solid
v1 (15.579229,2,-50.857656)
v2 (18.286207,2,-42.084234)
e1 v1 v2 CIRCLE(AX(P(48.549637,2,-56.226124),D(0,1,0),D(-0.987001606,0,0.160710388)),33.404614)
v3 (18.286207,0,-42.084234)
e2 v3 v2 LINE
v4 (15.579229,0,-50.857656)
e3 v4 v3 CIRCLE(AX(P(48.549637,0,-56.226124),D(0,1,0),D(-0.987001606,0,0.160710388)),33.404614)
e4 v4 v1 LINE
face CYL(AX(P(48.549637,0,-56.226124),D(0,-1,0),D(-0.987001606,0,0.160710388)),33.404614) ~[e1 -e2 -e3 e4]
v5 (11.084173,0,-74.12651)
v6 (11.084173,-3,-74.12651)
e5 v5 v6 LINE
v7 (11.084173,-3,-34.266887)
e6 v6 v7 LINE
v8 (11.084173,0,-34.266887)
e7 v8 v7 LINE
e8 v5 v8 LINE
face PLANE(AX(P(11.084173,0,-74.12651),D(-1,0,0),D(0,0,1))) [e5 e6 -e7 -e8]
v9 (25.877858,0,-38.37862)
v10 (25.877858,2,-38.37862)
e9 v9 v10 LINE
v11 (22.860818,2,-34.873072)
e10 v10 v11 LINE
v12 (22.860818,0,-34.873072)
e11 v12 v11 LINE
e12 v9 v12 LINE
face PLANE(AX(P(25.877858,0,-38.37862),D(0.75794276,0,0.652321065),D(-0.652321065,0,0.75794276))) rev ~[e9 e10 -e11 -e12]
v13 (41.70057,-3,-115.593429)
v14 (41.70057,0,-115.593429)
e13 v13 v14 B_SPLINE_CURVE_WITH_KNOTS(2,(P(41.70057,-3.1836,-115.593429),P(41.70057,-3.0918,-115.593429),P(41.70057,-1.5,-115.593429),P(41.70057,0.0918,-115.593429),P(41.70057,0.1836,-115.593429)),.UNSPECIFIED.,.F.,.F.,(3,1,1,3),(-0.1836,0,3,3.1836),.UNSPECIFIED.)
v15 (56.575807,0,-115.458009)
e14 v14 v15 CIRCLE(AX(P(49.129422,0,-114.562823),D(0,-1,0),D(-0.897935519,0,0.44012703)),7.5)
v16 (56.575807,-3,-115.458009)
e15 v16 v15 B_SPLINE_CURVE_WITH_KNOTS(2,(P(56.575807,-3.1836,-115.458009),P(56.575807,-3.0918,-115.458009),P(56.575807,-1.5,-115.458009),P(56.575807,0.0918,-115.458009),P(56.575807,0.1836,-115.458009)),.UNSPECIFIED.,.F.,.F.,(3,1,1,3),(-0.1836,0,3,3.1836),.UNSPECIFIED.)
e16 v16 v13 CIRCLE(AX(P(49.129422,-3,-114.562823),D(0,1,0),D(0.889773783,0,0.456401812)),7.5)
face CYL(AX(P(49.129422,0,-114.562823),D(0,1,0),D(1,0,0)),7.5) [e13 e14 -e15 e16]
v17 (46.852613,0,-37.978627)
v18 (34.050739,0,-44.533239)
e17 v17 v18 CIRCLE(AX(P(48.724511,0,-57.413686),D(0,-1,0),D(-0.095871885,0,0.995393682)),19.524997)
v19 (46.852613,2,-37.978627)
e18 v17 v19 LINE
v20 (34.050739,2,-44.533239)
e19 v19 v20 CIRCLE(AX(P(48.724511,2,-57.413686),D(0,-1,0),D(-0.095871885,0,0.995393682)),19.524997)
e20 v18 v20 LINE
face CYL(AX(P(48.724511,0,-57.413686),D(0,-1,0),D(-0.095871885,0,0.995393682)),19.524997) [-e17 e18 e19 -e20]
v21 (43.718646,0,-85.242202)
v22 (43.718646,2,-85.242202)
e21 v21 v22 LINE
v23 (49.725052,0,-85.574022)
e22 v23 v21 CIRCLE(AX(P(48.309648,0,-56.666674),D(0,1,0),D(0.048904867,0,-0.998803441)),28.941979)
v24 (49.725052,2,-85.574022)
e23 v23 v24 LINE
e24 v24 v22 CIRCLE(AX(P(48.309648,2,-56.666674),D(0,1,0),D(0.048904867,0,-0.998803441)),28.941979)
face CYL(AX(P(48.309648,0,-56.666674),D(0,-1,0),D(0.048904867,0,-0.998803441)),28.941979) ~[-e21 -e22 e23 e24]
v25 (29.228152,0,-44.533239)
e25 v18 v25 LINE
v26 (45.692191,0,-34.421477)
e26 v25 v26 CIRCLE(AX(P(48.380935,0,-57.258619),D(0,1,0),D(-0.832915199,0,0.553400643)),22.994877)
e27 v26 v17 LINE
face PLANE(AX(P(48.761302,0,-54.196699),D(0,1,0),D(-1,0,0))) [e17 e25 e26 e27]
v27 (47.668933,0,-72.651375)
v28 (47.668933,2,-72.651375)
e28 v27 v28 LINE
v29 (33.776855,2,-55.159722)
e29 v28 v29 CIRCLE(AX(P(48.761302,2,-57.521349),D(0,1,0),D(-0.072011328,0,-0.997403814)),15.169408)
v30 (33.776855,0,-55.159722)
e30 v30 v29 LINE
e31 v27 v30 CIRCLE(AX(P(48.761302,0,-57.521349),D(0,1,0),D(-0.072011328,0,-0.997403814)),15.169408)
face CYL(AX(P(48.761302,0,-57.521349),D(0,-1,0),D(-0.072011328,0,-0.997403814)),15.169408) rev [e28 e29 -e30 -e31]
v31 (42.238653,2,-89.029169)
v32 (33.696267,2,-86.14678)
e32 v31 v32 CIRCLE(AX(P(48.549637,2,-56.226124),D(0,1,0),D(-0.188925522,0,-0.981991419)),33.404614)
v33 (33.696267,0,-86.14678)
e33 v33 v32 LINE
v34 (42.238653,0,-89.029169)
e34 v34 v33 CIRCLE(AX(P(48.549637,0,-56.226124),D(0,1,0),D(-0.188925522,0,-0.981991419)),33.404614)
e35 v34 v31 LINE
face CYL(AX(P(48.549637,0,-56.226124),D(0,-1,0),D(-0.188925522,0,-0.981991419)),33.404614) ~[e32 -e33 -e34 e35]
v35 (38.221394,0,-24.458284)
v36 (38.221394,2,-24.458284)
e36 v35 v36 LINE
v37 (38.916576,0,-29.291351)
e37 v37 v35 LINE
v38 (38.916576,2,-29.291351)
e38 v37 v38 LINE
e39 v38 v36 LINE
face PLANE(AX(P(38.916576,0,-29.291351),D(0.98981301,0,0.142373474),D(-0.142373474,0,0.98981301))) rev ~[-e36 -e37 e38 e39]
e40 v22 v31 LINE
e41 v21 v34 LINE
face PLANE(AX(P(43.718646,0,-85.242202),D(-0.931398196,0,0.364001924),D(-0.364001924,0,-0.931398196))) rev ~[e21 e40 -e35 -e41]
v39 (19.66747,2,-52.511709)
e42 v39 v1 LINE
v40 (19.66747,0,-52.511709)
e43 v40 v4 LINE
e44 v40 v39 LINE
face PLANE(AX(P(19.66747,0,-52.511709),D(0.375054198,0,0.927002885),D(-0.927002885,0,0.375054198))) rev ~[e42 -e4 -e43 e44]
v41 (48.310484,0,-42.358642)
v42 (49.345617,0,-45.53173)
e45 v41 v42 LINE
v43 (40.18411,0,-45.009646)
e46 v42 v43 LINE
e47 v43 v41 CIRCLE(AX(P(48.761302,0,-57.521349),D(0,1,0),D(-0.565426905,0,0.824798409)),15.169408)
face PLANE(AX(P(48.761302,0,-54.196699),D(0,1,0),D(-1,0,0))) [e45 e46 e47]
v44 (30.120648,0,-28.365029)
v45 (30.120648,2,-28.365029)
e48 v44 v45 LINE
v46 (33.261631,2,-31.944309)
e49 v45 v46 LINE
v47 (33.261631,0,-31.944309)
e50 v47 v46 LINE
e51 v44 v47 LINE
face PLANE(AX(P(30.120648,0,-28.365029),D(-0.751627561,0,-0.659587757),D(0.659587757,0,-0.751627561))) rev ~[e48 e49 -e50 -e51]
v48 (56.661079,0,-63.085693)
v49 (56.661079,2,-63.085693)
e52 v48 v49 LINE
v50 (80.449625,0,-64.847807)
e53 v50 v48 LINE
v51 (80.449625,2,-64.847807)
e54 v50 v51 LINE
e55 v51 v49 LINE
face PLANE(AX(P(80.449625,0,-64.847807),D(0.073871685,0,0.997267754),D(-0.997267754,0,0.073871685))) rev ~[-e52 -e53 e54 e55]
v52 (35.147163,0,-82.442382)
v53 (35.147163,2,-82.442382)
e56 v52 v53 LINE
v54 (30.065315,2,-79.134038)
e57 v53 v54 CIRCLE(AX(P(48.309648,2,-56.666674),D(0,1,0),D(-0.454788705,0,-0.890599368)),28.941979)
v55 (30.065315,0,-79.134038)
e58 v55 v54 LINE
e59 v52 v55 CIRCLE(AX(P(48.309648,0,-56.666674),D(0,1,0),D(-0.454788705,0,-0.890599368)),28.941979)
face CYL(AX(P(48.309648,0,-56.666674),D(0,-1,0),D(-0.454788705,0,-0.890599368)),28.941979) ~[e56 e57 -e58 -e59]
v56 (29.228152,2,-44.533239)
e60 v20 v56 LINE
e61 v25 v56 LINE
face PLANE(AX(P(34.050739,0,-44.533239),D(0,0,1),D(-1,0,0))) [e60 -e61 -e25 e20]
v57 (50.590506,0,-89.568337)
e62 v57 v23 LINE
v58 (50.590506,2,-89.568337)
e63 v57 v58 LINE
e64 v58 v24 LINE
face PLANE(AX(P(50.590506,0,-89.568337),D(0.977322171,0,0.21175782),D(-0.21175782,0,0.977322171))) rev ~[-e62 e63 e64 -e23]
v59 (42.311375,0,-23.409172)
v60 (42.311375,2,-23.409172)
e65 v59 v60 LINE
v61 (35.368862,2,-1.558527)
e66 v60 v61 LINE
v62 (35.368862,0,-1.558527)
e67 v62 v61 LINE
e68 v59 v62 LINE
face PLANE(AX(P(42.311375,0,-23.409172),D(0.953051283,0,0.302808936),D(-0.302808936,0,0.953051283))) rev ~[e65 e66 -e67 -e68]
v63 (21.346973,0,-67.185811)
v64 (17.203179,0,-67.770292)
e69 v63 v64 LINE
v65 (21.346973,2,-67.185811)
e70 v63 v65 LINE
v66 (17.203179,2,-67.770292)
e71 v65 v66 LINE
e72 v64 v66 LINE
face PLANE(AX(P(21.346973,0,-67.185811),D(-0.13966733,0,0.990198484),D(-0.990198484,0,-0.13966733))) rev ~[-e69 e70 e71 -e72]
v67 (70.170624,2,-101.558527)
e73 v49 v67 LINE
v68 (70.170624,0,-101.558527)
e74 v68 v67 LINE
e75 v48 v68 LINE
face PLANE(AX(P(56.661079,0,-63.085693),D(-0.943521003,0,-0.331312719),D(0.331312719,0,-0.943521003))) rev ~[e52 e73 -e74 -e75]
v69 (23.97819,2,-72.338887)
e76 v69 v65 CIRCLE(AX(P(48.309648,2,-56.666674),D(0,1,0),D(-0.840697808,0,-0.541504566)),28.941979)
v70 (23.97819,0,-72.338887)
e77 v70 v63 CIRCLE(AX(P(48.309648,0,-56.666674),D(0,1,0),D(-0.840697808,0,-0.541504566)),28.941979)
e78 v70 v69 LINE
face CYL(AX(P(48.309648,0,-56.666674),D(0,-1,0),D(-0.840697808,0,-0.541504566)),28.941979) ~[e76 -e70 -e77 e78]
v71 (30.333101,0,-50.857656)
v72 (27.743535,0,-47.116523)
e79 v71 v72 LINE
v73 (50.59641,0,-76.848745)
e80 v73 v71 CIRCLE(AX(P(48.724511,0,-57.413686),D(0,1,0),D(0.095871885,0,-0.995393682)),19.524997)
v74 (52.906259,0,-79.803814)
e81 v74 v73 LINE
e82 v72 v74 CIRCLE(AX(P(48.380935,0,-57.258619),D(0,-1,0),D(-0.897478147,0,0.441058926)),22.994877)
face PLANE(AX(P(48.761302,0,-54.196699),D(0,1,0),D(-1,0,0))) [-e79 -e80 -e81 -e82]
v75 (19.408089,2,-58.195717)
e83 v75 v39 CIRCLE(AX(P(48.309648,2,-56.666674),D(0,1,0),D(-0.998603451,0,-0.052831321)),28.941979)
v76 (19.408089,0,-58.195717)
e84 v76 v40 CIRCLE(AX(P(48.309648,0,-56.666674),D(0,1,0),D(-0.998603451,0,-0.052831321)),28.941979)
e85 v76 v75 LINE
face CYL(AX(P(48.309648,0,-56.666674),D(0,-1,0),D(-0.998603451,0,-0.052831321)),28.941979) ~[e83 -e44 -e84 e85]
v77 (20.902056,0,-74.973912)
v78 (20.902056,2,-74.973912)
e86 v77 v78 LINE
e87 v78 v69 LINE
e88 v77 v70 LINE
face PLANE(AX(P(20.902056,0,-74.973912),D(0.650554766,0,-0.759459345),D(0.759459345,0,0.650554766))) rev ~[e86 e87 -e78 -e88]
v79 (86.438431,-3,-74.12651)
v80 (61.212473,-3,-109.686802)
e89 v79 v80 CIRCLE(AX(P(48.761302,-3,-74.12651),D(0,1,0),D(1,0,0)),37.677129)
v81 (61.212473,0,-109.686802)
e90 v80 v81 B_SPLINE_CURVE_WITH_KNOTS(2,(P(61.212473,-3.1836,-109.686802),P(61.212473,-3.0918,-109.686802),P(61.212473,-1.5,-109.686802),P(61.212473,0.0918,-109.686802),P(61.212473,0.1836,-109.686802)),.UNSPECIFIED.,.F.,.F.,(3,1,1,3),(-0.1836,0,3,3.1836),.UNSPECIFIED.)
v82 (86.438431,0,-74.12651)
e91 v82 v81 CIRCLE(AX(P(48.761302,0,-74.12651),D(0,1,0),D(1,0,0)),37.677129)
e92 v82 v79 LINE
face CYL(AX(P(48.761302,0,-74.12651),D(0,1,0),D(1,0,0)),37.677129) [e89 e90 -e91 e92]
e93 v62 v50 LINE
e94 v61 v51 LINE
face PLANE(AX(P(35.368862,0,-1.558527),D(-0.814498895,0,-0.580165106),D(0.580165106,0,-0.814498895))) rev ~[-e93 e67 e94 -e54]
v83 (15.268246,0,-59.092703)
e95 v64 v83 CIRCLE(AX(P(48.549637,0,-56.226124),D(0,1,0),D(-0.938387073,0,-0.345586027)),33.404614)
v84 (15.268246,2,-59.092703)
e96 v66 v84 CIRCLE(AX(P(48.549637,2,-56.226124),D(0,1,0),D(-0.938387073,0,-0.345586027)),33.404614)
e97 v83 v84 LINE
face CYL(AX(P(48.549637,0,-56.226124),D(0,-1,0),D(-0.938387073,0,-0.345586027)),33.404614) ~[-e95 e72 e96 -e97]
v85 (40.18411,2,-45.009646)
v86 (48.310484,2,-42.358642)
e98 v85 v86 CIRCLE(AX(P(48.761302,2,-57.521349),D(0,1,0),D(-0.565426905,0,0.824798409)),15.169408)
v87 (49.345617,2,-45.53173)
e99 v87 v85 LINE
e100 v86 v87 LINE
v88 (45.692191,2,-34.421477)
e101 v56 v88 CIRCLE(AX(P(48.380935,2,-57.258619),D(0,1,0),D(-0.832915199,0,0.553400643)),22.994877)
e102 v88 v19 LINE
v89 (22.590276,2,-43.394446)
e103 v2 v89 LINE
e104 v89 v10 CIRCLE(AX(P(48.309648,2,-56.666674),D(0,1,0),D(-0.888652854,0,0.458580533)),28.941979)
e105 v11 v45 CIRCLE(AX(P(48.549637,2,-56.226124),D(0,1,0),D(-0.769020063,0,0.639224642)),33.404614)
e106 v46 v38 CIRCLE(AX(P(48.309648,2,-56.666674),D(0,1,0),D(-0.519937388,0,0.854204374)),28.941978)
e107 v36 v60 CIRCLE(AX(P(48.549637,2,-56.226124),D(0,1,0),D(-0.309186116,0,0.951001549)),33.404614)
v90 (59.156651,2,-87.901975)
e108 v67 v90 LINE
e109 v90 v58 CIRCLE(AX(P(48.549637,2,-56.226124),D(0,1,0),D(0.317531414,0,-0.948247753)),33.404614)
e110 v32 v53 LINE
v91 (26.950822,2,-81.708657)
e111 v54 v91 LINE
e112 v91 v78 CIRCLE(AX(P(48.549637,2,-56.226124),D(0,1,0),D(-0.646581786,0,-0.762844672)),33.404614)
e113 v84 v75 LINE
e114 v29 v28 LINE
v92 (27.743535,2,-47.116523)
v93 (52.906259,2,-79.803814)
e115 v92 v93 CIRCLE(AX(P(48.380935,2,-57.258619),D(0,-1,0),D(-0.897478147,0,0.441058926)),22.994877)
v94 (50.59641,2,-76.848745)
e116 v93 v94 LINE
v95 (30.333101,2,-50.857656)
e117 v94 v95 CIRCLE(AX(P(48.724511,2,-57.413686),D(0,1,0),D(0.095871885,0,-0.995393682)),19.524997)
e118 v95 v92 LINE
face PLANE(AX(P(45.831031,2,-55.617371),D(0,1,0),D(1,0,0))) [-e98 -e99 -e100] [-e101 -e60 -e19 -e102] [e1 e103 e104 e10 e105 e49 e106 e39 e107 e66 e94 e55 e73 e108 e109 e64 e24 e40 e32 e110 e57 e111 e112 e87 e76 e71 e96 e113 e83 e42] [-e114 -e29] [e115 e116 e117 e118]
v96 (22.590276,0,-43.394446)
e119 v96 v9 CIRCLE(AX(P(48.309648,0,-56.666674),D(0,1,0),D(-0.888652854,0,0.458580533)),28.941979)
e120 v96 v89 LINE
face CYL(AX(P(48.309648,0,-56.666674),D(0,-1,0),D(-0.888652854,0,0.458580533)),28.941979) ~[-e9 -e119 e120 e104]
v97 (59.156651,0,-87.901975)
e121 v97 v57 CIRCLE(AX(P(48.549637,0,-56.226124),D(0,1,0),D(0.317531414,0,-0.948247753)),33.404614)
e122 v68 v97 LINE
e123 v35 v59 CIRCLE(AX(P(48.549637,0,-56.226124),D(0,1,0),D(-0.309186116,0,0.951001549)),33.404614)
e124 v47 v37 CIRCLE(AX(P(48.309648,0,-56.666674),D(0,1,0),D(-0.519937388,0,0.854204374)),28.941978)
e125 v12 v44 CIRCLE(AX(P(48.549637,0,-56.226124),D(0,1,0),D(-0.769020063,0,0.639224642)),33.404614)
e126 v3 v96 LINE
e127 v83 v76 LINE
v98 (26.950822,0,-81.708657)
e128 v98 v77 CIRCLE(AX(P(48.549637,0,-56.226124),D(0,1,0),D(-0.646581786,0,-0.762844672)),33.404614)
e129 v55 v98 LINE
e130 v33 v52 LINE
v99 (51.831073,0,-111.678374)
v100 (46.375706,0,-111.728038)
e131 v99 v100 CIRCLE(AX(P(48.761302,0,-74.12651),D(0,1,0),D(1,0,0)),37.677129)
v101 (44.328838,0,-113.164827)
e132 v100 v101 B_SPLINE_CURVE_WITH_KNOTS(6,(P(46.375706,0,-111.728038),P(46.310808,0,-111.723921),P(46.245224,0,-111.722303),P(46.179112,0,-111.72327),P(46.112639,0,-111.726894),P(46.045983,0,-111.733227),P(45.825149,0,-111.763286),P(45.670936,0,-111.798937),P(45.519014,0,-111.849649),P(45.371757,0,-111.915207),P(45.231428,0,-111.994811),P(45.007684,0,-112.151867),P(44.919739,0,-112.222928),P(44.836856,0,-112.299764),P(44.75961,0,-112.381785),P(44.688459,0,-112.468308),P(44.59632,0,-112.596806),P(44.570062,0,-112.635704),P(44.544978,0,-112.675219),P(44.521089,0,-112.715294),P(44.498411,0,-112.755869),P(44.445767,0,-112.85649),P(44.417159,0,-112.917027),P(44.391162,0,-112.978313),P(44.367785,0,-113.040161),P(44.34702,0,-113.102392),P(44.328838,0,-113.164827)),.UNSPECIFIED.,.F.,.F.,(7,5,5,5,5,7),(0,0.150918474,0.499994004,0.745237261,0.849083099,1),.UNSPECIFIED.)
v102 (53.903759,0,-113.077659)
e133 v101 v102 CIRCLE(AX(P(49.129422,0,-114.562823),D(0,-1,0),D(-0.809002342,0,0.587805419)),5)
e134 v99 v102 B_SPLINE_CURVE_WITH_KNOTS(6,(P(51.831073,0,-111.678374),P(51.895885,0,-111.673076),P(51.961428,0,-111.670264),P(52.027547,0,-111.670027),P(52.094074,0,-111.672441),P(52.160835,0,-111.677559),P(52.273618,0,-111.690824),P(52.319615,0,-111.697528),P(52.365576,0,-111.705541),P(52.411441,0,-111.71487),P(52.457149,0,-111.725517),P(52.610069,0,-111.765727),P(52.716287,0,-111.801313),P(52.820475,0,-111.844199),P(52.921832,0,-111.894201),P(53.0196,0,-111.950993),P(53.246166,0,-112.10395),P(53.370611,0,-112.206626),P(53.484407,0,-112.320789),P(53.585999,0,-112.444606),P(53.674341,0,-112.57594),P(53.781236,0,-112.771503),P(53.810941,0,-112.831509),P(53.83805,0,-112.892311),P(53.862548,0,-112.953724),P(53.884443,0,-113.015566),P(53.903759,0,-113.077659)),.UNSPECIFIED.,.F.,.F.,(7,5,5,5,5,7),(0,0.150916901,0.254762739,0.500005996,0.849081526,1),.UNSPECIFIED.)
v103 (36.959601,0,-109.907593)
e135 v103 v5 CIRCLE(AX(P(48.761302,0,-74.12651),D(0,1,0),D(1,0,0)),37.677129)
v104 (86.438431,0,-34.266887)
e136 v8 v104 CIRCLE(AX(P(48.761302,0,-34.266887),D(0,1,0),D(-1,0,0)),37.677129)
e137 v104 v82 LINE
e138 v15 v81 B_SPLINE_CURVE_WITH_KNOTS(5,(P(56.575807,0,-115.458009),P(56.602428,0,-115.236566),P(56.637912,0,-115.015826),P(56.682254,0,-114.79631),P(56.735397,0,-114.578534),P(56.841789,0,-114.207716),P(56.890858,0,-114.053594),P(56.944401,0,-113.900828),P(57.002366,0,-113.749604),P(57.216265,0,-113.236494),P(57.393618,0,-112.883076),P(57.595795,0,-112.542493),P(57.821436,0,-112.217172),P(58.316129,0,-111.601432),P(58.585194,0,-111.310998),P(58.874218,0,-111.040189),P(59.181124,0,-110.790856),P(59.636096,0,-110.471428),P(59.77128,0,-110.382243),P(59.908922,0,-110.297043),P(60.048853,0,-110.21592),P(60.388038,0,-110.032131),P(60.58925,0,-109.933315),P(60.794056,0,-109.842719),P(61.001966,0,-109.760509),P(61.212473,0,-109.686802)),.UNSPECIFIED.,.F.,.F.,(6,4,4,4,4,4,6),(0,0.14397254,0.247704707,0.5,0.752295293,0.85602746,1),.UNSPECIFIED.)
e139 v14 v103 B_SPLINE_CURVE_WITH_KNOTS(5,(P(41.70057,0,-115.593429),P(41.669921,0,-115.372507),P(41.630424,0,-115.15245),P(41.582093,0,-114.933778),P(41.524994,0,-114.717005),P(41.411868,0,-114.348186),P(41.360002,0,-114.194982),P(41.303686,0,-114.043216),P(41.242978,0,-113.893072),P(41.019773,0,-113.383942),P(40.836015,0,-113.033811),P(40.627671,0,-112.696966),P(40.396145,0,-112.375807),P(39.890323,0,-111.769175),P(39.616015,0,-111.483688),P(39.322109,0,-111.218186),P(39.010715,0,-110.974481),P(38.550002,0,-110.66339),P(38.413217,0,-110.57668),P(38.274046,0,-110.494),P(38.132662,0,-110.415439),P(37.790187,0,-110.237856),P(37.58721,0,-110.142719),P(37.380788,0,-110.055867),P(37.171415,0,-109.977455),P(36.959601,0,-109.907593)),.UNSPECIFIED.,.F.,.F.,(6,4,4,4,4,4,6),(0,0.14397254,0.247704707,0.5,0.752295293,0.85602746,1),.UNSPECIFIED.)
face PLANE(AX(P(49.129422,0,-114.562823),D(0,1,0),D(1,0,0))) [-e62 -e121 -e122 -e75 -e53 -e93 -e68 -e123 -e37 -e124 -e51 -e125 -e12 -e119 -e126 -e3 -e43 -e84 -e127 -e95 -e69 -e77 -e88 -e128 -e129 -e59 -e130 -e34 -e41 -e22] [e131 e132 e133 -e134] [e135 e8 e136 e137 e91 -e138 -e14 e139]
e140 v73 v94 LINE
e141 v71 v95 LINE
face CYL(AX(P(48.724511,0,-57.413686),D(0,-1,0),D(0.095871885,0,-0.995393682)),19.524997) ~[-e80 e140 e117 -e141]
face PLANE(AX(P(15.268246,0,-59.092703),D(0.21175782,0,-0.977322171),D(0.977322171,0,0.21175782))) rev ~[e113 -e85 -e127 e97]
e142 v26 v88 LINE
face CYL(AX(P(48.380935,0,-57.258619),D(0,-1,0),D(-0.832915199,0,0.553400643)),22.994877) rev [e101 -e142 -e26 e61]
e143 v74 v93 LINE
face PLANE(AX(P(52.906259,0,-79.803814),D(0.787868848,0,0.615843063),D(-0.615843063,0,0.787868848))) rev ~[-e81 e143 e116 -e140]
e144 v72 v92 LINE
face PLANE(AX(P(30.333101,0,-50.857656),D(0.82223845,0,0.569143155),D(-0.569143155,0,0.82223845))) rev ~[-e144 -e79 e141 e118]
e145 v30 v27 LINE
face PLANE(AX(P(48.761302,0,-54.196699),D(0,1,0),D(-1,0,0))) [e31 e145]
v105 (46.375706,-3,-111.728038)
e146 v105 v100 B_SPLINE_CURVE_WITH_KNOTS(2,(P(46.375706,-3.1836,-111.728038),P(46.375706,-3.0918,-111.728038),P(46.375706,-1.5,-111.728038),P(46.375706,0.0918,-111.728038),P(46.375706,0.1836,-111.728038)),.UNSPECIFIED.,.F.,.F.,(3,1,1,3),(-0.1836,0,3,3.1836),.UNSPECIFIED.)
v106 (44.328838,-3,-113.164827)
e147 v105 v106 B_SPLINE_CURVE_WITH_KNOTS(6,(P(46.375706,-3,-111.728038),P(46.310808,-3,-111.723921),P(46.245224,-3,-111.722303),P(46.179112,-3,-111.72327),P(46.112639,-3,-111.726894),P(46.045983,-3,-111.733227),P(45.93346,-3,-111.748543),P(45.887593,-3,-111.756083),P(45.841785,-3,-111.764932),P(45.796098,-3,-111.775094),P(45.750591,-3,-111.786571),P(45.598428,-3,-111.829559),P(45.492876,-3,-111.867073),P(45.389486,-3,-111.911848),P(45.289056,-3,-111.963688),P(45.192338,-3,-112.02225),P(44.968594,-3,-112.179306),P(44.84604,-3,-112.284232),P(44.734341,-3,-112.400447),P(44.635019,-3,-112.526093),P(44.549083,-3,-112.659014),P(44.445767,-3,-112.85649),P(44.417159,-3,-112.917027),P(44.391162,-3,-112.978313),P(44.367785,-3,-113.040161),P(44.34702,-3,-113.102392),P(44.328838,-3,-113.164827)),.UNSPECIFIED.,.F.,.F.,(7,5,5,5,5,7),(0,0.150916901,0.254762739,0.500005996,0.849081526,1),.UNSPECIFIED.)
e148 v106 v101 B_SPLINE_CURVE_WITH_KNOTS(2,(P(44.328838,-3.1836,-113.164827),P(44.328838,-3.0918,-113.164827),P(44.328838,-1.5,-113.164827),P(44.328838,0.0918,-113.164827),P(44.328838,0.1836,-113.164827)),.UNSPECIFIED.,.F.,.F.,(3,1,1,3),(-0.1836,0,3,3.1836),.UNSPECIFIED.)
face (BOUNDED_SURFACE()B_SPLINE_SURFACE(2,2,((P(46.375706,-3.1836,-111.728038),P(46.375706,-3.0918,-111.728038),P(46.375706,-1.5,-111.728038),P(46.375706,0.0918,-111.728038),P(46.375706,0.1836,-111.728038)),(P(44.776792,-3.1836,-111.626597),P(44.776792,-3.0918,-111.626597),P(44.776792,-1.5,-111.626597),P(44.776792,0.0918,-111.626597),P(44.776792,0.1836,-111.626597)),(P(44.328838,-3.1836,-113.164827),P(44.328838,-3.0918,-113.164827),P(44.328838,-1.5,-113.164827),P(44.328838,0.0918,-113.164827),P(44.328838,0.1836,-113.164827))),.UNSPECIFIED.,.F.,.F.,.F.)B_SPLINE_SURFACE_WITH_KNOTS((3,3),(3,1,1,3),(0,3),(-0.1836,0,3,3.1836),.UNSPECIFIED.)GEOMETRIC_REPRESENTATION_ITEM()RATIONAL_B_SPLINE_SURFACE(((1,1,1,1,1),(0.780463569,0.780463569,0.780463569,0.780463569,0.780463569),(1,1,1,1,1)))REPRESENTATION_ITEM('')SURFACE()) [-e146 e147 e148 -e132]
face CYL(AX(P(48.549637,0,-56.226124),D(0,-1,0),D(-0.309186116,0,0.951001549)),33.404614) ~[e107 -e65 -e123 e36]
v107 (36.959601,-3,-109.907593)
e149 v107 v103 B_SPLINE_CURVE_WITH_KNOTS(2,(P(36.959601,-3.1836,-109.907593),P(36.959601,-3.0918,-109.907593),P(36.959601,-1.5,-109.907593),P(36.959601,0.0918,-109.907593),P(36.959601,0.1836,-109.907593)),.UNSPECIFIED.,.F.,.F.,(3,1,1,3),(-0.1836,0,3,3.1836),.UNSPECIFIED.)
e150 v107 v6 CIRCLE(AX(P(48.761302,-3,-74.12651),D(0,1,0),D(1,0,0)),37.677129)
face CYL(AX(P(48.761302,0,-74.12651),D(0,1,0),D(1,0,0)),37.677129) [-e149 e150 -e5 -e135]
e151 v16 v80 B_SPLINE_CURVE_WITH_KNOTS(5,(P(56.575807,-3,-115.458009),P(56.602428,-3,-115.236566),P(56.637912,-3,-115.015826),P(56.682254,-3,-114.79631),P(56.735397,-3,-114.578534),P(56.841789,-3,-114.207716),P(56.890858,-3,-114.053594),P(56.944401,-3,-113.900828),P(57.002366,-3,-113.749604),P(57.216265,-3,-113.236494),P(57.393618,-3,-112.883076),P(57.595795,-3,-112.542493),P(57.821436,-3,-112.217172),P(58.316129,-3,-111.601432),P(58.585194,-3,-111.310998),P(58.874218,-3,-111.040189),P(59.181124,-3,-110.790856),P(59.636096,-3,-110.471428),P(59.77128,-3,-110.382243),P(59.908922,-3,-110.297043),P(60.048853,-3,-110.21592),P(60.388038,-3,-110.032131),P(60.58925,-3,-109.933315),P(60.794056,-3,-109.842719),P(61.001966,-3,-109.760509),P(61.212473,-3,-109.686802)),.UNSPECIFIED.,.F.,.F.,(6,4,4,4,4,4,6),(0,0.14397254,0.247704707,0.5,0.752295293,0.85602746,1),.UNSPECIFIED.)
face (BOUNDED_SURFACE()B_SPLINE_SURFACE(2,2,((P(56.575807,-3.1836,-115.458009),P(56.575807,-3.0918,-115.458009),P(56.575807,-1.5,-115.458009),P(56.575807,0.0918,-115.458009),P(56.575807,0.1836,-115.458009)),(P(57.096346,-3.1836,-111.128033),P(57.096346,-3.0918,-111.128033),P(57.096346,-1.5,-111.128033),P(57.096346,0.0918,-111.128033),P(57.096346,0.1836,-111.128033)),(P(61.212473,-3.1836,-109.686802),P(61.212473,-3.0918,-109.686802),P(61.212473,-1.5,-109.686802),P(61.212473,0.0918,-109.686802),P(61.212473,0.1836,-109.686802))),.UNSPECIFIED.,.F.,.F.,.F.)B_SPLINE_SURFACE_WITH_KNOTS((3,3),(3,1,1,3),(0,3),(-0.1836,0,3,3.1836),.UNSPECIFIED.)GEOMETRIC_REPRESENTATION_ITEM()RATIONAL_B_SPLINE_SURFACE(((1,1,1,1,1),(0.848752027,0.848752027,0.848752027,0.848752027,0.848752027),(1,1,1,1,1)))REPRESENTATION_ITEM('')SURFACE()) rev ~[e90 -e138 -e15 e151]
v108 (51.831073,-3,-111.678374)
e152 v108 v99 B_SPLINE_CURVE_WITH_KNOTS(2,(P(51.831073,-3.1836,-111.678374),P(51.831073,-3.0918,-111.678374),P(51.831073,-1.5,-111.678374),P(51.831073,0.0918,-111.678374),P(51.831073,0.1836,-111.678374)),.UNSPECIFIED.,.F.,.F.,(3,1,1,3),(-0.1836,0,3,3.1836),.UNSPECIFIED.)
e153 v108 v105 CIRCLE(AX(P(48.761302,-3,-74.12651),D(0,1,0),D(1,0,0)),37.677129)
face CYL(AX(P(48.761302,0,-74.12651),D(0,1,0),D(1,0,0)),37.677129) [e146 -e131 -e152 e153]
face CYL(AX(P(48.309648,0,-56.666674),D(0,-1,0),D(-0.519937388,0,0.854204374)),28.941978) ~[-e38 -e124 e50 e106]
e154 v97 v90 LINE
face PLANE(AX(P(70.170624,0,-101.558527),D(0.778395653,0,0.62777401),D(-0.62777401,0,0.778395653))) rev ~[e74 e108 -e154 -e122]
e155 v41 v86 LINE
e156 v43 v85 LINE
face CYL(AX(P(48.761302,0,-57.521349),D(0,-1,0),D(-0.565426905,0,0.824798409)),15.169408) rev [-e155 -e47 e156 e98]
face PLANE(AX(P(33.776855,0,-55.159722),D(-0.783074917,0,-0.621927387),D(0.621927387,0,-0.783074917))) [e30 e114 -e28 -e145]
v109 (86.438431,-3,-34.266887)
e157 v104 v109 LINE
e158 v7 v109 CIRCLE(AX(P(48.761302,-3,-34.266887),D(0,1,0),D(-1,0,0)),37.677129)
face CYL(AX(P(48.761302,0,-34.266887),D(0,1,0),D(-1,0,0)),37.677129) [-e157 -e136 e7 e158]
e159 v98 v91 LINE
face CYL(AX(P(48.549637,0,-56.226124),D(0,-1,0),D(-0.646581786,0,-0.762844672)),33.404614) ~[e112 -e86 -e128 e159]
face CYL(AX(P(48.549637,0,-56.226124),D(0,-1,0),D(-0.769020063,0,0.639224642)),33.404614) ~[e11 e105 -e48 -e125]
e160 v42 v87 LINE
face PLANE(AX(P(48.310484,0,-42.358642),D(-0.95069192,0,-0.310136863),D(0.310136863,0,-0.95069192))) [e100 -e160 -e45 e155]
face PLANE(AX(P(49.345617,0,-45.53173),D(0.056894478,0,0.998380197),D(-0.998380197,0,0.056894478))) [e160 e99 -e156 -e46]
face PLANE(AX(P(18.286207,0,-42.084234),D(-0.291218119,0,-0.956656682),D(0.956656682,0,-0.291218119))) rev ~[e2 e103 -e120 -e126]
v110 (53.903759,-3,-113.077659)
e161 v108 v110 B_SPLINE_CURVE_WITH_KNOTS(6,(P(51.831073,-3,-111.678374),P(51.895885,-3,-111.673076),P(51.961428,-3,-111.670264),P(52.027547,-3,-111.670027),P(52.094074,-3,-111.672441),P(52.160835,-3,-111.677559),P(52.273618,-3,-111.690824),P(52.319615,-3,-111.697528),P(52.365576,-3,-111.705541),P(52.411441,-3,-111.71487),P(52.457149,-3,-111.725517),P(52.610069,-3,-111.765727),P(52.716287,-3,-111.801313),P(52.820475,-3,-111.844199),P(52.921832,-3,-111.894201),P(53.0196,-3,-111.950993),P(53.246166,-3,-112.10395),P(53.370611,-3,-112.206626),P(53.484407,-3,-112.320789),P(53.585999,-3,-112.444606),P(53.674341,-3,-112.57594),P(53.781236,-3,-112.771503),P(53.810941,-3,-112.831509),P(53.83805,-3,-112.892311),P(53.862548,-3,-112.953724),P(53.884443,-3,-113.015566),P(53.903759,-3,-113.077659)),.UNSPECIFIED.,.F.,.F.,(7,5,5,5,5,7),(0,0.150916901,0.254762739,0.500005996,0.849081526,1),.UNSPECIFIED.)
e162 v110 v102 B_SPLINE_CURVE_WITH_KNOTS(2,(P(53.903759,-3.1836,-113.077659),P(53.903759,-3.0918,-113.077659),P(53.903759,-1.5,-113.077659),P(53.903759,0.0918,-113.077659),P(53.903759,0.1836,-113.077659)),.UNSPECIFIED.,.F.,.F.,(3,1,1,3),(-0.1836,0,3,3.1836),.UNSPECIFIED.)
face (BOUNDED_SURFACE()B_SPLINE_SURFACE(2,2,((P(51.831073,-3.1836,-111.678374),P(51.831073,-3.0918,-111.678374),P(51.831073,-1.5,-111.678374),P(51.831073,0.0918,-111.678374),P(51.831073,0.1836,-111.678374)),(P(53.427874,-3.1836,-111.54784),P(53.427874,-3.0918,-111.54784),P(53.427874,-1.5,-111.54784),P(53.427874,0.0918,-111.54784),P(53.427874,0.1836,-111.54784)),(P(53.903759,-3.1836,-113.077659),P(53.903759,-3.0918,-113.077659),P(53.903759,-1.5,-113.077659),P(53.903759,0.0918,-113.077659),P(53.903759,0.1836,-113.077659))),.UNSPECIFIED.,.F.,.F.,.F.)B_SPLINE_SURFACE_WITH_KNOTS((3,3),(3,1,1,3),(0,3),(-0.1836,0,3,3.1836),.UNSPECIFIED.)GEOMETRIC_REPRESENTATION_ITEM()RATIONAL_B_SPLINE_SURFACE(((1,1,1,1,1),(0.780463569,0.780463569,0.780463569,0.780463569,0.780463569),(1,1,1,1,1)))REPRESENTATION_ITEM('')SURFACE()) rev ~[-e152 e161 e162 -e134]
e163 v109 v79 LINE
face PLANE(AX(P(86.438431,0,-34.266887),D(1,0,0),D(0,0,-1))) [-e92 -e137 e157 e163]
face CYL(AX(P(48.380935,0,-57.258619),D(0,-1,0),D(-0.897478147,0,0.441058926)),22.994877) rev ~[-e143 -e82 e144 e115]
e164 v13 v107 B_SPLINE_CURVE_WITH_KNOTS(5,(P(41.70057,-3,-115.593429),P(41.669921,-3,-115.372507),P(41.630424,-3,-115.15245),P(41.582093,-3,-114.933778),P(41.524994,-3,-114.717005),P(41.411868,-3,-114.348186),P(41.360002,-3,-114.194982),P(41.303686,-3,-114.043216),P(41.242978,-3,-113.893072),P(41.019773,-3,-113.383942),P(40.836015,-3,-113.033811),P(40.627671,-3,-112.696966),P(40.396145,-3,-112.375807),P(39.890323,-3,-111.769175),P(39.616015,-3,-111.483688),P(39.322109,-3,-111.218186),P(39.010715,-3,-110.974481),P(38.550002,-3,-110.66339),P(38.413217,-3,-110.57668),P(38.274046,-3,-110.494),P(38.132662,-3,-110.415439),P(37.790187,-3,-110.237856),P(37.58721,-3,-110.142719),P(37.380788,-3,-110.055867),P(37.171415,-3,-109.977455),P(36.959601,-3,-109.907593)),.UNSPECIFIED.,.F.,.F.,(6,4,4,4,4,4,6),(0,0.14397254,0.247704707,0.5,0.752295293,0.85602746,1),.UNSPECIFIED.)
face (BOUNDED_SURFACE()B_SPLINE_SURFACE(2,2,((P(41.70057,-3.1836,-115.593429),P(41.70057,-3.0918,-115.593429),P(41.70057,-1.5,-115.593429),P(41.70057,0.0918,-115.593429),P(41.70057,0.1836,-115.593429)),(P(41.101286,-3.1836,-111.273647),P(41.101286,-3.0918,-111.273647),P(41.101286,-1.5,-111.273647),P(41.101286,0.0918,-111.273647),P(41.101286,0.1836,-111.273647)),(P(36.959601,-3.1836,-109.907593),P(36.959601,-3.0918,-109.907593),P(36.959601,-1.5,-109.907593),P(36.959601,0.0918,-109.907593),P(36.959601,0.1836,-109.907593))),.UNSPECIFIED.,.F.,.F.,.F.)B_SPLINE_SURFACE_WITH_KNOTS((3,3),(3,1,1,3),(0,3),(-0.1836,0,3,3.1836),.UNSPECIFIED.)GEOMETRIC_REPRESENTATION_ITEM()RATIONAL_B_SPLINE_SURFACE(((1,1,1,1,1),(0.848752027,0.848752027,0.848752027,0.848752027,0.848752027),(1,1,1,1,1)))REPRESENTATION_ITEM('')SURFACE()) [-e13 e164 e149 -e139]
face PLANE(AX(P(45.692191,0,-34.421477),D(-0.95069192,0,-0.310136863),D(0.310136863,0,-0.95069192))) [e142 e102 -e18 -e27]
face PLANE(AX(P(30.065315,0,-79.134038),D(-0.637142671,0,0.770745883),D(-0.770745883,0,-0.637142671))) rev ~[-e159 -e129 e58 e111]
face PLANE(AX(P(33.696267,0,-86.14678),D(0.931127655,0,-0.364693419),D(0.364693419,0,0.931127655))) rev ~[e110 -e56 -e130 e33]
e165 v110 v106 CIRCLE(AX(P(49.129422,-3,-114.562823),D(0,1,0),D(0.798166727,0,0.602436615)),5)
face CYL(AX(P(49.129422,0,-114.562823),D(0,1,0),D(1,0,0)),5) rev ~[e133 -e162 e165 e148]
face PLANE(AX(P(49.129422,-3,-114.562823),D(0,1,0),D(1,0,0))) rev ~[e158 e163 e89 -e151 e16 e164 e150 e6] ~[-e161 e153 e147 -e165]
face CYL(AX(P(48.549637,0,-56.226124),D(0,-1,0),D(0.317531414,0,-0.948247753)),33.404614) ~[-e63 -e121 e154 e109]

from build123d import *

# Parameters (mm, degrees)
RESSALTO_EXTRUS_O1_DEPTH = 2
RESSALTO_EXTRUS_O2_DEPTH = 3
ESBO_O4_R                = 7.5
ESBO_O4_R_2              = 5
RESSALTO_EXTRUS_O3_DEPTH = 3
FILETE4_R                = 7
FILETE5_R                = 2


with BuildPart() as part:
    # Esboço1 → Ressalto-extrusão1 (new body)
    with BuildSketch(Plane(origin=(0, 0, 0), x_dir=(1, 0, 0), z_dir=(0, 1, 0))):
        with BuildLine():
            Line((35.368861757, 1.558526937), (80.44962534, 64.847807407))
            Line((80.44962534, 64.847807407), (56.661079085, 63.08569287))
            Line((56.661079085, 63.08569287), (70.170623872, 101.558526937))
            Line((70.170623872, 101.558526937), (59.156651238, 87.901974937))
            ThreePointArc((59.156651238, 87.901974937), (54.928228331, 89.016089828), (50.590505915, 89.568336625))
            Line((50.590505915, 89.568336625), (49.725051843, 85.574021555))
            ThreePointArc((49.725051843, 85.574021555), (46.713204504, 85.564588761), (43.718646065, 85.242202157))
            Line((43.718646065, 85.242202157), (42.238652592, 89.029169094))
            ThreePointArc((42.238652592, 89.029169094), (37.869771908, 87.87748691), (33.696266723, 86.146780478))
            Line((33.696266723, 86.146780478), (35.147163269, 82.442381585))
            ThreePointArc((35.147163269, 82.442381585), (32.519355747, 80.921668866), (30.065315343, 79.134037687))
            Line((30.065315343, 79.134037687), (26.950821583, 81.70865653))
            ThreePointArc((26.950821583, 81.70865653), (23.697250977, 78.547127541), (20.902055839, 74.973911711))
            Line((20.902055839, 74.973911711), (23.978190261, 72.338887308))
            ThreePointArc((23.978190261, 72.338887308), (22.53348512, 69.828267118), (21.346972592, 67.18581093))
            Line((21.346972592, 67.18581093), (17.203178516, 67.77029239))
            ThreePointArc((17.203178516, 67.77029239), (15.945727998, 63.496158243), (15.268245742, 59.09270252))
            Line((15.268245742, 59.09270252), (19.408088551, 58.19571674))
            ThreePointArc((19.408088551, 58.19571674), (19.397757282, 55.347323146), (19.667469692, 52.511708923))
            Line((19.667469692, 52.511708923), (15.579228762, 50.857655899))
            ThreePointArc((15.579228762, 50.857655899), (16.629849838, 46.377497076), (18.286206869, 42.084233852))
            Line((18.286206869, 42.084233852), (22.590276365, 43.394445807))
            ThreePointArc((22.590276365, 43.394445807), (24.103796918, 40.801148677), (25.877857628, 38.378620441))
            Line((25.877857628, 38.378620441), (22.860818156, 34.873071796))
            ThreePointArc((22.860818156, 34.873071796), (26.252016309, 31.352757541), (30.120648437, 28.365028835))
            Line((30.120648437, 28.365028835), (33.261631483, 31.944309078))
            ThreePointArc((33.261631483, 31.944309078), (36.017323235, 30.464825168), (38.916576083, 29.291350585))
            Line((38.916576083, 29.291350585), (38.221393853, 24.458284446))
            ThreePointArc((38.221393853, 24.458284446), (40.249791444, 23.869041331), (42.311374517, 23.409172359))
            Line((42.311374517, 23.409172359), (35.368861757, 1.558526937))
        make_face()
        with BuildLine():
            Line((45.69219136, 34.421477023), (46.852612972, 37.978627375))
            ThreePointArc((46.852612972, 37.978627375), (39.82616677, 40.034244908), (34.05073918, 44.533238778))
            Line((34.05073918, 44.533238778), (29.228152417, 44.533238778))
            ThreePointArc((29.228152417, 44.533238778), (36.346609181, 37.664247561), (45.69219136, 34.421477023))
        make_face(mode=Mode.SUBTRACT)
        with BuildLine():
            Line((48.310484351, 42.358641567), (49.345616552, 45.531730412))
            Line((49.345616552, 45.531730412), (40.18411035, 45.009645625))
            ThreePointArc((40.18411035, 45.009645625), (44.056709172, 43.099915587), (48.310484351, 42.358641567))
        make_face(mode=Mode.SUBTRACT)
        with BuildLine():
            Line((33.776854594, 55.159722076), (47.668932581, 72.651374716))
            ThreePointArc((47.668932581, 72.651374716), (36.882518839, 66.95561957), (33.776854594, 55.159722076))
        make_face(mode=Mode.SUBTRACT)
        with BuildLine():
            Line((30.333100839, 50.857655899), (27.743535352, 47.116522773))
            ThreePointArc((27.743535352, 47.116522773), (30.159670342, 71.285374829), (52.90625945, 79.803813767))
            Line((52.90625945, 79.803813767), (50.5964095, 76.848744643))
            ThreePointArc((50.5964095, 76.848744643), (33.326207959, 69.418591815), (30.333100839, 50.857655899))
        make_face(mode=Mode.SUBTRACT)
    extrude(amount=RESSALTO_EXTRUS_O1_DEPTH)

    # Esboço3 → Ressalto-extrusão2 (add)
    with BuildSketch(Plane.XZ):
        with BuildLine():
            Line((11.084172824, -74.126509554), (11.084172824, -34.266887476))
            ThreePointArc((11.084172824, -34.266887476), (48.761301795, 3.410241496), (86.438430767, -34.266887476))
            Line((86.438430767, -34.266887476), (86.438430767, -74.126509554))
            ThreePointArc((86.438430767, -74.126509554), (48.761301795, -111.803638526), (11.084172824, -74.126509554))
        make_face()
    extrude(amount=RESSALTO_EXTRUS_O2_DEPTH)

    # Esboço4 → Ressalto-extrusão3 (add)
    with BuildSketch(Plane(origin=(0, 0, 0), x_dir=(1, 0, 0), z_dir=(0, 1, 0))):
        with Locations((49.129422152, 114.56282345)):
            Circle(ESBO_O4_R)
        with Locations((49.129422152, 114.56282345)):
            Circle(ESBO_O4_R_2, mode=Mode.SUBTRACT)
    extrude(amount=-RESSALTO_EXTRUS_O3_DEPTH)

    # Filete4
    filete4_edges = [part.edges().sort_by_distance(p)[0] for p in [
        (42.394905756, -1.5, -111.261870721),
        (55.802725528, -1.5, -111.139809858),
    ]]
    fillet(filete4_edges, radius=FILETE4_R)

    # Filete5
    filete5_edges = [part.edges().sort_by_distance(p)[0] for p in [
        (45.084410441, -1.5, -111.623796356),
        (53.120255788, -1.5, -111.550640374),
    ]]
    fillet(filete5_edges, radius=FILETE5_R)


solid = part.part
